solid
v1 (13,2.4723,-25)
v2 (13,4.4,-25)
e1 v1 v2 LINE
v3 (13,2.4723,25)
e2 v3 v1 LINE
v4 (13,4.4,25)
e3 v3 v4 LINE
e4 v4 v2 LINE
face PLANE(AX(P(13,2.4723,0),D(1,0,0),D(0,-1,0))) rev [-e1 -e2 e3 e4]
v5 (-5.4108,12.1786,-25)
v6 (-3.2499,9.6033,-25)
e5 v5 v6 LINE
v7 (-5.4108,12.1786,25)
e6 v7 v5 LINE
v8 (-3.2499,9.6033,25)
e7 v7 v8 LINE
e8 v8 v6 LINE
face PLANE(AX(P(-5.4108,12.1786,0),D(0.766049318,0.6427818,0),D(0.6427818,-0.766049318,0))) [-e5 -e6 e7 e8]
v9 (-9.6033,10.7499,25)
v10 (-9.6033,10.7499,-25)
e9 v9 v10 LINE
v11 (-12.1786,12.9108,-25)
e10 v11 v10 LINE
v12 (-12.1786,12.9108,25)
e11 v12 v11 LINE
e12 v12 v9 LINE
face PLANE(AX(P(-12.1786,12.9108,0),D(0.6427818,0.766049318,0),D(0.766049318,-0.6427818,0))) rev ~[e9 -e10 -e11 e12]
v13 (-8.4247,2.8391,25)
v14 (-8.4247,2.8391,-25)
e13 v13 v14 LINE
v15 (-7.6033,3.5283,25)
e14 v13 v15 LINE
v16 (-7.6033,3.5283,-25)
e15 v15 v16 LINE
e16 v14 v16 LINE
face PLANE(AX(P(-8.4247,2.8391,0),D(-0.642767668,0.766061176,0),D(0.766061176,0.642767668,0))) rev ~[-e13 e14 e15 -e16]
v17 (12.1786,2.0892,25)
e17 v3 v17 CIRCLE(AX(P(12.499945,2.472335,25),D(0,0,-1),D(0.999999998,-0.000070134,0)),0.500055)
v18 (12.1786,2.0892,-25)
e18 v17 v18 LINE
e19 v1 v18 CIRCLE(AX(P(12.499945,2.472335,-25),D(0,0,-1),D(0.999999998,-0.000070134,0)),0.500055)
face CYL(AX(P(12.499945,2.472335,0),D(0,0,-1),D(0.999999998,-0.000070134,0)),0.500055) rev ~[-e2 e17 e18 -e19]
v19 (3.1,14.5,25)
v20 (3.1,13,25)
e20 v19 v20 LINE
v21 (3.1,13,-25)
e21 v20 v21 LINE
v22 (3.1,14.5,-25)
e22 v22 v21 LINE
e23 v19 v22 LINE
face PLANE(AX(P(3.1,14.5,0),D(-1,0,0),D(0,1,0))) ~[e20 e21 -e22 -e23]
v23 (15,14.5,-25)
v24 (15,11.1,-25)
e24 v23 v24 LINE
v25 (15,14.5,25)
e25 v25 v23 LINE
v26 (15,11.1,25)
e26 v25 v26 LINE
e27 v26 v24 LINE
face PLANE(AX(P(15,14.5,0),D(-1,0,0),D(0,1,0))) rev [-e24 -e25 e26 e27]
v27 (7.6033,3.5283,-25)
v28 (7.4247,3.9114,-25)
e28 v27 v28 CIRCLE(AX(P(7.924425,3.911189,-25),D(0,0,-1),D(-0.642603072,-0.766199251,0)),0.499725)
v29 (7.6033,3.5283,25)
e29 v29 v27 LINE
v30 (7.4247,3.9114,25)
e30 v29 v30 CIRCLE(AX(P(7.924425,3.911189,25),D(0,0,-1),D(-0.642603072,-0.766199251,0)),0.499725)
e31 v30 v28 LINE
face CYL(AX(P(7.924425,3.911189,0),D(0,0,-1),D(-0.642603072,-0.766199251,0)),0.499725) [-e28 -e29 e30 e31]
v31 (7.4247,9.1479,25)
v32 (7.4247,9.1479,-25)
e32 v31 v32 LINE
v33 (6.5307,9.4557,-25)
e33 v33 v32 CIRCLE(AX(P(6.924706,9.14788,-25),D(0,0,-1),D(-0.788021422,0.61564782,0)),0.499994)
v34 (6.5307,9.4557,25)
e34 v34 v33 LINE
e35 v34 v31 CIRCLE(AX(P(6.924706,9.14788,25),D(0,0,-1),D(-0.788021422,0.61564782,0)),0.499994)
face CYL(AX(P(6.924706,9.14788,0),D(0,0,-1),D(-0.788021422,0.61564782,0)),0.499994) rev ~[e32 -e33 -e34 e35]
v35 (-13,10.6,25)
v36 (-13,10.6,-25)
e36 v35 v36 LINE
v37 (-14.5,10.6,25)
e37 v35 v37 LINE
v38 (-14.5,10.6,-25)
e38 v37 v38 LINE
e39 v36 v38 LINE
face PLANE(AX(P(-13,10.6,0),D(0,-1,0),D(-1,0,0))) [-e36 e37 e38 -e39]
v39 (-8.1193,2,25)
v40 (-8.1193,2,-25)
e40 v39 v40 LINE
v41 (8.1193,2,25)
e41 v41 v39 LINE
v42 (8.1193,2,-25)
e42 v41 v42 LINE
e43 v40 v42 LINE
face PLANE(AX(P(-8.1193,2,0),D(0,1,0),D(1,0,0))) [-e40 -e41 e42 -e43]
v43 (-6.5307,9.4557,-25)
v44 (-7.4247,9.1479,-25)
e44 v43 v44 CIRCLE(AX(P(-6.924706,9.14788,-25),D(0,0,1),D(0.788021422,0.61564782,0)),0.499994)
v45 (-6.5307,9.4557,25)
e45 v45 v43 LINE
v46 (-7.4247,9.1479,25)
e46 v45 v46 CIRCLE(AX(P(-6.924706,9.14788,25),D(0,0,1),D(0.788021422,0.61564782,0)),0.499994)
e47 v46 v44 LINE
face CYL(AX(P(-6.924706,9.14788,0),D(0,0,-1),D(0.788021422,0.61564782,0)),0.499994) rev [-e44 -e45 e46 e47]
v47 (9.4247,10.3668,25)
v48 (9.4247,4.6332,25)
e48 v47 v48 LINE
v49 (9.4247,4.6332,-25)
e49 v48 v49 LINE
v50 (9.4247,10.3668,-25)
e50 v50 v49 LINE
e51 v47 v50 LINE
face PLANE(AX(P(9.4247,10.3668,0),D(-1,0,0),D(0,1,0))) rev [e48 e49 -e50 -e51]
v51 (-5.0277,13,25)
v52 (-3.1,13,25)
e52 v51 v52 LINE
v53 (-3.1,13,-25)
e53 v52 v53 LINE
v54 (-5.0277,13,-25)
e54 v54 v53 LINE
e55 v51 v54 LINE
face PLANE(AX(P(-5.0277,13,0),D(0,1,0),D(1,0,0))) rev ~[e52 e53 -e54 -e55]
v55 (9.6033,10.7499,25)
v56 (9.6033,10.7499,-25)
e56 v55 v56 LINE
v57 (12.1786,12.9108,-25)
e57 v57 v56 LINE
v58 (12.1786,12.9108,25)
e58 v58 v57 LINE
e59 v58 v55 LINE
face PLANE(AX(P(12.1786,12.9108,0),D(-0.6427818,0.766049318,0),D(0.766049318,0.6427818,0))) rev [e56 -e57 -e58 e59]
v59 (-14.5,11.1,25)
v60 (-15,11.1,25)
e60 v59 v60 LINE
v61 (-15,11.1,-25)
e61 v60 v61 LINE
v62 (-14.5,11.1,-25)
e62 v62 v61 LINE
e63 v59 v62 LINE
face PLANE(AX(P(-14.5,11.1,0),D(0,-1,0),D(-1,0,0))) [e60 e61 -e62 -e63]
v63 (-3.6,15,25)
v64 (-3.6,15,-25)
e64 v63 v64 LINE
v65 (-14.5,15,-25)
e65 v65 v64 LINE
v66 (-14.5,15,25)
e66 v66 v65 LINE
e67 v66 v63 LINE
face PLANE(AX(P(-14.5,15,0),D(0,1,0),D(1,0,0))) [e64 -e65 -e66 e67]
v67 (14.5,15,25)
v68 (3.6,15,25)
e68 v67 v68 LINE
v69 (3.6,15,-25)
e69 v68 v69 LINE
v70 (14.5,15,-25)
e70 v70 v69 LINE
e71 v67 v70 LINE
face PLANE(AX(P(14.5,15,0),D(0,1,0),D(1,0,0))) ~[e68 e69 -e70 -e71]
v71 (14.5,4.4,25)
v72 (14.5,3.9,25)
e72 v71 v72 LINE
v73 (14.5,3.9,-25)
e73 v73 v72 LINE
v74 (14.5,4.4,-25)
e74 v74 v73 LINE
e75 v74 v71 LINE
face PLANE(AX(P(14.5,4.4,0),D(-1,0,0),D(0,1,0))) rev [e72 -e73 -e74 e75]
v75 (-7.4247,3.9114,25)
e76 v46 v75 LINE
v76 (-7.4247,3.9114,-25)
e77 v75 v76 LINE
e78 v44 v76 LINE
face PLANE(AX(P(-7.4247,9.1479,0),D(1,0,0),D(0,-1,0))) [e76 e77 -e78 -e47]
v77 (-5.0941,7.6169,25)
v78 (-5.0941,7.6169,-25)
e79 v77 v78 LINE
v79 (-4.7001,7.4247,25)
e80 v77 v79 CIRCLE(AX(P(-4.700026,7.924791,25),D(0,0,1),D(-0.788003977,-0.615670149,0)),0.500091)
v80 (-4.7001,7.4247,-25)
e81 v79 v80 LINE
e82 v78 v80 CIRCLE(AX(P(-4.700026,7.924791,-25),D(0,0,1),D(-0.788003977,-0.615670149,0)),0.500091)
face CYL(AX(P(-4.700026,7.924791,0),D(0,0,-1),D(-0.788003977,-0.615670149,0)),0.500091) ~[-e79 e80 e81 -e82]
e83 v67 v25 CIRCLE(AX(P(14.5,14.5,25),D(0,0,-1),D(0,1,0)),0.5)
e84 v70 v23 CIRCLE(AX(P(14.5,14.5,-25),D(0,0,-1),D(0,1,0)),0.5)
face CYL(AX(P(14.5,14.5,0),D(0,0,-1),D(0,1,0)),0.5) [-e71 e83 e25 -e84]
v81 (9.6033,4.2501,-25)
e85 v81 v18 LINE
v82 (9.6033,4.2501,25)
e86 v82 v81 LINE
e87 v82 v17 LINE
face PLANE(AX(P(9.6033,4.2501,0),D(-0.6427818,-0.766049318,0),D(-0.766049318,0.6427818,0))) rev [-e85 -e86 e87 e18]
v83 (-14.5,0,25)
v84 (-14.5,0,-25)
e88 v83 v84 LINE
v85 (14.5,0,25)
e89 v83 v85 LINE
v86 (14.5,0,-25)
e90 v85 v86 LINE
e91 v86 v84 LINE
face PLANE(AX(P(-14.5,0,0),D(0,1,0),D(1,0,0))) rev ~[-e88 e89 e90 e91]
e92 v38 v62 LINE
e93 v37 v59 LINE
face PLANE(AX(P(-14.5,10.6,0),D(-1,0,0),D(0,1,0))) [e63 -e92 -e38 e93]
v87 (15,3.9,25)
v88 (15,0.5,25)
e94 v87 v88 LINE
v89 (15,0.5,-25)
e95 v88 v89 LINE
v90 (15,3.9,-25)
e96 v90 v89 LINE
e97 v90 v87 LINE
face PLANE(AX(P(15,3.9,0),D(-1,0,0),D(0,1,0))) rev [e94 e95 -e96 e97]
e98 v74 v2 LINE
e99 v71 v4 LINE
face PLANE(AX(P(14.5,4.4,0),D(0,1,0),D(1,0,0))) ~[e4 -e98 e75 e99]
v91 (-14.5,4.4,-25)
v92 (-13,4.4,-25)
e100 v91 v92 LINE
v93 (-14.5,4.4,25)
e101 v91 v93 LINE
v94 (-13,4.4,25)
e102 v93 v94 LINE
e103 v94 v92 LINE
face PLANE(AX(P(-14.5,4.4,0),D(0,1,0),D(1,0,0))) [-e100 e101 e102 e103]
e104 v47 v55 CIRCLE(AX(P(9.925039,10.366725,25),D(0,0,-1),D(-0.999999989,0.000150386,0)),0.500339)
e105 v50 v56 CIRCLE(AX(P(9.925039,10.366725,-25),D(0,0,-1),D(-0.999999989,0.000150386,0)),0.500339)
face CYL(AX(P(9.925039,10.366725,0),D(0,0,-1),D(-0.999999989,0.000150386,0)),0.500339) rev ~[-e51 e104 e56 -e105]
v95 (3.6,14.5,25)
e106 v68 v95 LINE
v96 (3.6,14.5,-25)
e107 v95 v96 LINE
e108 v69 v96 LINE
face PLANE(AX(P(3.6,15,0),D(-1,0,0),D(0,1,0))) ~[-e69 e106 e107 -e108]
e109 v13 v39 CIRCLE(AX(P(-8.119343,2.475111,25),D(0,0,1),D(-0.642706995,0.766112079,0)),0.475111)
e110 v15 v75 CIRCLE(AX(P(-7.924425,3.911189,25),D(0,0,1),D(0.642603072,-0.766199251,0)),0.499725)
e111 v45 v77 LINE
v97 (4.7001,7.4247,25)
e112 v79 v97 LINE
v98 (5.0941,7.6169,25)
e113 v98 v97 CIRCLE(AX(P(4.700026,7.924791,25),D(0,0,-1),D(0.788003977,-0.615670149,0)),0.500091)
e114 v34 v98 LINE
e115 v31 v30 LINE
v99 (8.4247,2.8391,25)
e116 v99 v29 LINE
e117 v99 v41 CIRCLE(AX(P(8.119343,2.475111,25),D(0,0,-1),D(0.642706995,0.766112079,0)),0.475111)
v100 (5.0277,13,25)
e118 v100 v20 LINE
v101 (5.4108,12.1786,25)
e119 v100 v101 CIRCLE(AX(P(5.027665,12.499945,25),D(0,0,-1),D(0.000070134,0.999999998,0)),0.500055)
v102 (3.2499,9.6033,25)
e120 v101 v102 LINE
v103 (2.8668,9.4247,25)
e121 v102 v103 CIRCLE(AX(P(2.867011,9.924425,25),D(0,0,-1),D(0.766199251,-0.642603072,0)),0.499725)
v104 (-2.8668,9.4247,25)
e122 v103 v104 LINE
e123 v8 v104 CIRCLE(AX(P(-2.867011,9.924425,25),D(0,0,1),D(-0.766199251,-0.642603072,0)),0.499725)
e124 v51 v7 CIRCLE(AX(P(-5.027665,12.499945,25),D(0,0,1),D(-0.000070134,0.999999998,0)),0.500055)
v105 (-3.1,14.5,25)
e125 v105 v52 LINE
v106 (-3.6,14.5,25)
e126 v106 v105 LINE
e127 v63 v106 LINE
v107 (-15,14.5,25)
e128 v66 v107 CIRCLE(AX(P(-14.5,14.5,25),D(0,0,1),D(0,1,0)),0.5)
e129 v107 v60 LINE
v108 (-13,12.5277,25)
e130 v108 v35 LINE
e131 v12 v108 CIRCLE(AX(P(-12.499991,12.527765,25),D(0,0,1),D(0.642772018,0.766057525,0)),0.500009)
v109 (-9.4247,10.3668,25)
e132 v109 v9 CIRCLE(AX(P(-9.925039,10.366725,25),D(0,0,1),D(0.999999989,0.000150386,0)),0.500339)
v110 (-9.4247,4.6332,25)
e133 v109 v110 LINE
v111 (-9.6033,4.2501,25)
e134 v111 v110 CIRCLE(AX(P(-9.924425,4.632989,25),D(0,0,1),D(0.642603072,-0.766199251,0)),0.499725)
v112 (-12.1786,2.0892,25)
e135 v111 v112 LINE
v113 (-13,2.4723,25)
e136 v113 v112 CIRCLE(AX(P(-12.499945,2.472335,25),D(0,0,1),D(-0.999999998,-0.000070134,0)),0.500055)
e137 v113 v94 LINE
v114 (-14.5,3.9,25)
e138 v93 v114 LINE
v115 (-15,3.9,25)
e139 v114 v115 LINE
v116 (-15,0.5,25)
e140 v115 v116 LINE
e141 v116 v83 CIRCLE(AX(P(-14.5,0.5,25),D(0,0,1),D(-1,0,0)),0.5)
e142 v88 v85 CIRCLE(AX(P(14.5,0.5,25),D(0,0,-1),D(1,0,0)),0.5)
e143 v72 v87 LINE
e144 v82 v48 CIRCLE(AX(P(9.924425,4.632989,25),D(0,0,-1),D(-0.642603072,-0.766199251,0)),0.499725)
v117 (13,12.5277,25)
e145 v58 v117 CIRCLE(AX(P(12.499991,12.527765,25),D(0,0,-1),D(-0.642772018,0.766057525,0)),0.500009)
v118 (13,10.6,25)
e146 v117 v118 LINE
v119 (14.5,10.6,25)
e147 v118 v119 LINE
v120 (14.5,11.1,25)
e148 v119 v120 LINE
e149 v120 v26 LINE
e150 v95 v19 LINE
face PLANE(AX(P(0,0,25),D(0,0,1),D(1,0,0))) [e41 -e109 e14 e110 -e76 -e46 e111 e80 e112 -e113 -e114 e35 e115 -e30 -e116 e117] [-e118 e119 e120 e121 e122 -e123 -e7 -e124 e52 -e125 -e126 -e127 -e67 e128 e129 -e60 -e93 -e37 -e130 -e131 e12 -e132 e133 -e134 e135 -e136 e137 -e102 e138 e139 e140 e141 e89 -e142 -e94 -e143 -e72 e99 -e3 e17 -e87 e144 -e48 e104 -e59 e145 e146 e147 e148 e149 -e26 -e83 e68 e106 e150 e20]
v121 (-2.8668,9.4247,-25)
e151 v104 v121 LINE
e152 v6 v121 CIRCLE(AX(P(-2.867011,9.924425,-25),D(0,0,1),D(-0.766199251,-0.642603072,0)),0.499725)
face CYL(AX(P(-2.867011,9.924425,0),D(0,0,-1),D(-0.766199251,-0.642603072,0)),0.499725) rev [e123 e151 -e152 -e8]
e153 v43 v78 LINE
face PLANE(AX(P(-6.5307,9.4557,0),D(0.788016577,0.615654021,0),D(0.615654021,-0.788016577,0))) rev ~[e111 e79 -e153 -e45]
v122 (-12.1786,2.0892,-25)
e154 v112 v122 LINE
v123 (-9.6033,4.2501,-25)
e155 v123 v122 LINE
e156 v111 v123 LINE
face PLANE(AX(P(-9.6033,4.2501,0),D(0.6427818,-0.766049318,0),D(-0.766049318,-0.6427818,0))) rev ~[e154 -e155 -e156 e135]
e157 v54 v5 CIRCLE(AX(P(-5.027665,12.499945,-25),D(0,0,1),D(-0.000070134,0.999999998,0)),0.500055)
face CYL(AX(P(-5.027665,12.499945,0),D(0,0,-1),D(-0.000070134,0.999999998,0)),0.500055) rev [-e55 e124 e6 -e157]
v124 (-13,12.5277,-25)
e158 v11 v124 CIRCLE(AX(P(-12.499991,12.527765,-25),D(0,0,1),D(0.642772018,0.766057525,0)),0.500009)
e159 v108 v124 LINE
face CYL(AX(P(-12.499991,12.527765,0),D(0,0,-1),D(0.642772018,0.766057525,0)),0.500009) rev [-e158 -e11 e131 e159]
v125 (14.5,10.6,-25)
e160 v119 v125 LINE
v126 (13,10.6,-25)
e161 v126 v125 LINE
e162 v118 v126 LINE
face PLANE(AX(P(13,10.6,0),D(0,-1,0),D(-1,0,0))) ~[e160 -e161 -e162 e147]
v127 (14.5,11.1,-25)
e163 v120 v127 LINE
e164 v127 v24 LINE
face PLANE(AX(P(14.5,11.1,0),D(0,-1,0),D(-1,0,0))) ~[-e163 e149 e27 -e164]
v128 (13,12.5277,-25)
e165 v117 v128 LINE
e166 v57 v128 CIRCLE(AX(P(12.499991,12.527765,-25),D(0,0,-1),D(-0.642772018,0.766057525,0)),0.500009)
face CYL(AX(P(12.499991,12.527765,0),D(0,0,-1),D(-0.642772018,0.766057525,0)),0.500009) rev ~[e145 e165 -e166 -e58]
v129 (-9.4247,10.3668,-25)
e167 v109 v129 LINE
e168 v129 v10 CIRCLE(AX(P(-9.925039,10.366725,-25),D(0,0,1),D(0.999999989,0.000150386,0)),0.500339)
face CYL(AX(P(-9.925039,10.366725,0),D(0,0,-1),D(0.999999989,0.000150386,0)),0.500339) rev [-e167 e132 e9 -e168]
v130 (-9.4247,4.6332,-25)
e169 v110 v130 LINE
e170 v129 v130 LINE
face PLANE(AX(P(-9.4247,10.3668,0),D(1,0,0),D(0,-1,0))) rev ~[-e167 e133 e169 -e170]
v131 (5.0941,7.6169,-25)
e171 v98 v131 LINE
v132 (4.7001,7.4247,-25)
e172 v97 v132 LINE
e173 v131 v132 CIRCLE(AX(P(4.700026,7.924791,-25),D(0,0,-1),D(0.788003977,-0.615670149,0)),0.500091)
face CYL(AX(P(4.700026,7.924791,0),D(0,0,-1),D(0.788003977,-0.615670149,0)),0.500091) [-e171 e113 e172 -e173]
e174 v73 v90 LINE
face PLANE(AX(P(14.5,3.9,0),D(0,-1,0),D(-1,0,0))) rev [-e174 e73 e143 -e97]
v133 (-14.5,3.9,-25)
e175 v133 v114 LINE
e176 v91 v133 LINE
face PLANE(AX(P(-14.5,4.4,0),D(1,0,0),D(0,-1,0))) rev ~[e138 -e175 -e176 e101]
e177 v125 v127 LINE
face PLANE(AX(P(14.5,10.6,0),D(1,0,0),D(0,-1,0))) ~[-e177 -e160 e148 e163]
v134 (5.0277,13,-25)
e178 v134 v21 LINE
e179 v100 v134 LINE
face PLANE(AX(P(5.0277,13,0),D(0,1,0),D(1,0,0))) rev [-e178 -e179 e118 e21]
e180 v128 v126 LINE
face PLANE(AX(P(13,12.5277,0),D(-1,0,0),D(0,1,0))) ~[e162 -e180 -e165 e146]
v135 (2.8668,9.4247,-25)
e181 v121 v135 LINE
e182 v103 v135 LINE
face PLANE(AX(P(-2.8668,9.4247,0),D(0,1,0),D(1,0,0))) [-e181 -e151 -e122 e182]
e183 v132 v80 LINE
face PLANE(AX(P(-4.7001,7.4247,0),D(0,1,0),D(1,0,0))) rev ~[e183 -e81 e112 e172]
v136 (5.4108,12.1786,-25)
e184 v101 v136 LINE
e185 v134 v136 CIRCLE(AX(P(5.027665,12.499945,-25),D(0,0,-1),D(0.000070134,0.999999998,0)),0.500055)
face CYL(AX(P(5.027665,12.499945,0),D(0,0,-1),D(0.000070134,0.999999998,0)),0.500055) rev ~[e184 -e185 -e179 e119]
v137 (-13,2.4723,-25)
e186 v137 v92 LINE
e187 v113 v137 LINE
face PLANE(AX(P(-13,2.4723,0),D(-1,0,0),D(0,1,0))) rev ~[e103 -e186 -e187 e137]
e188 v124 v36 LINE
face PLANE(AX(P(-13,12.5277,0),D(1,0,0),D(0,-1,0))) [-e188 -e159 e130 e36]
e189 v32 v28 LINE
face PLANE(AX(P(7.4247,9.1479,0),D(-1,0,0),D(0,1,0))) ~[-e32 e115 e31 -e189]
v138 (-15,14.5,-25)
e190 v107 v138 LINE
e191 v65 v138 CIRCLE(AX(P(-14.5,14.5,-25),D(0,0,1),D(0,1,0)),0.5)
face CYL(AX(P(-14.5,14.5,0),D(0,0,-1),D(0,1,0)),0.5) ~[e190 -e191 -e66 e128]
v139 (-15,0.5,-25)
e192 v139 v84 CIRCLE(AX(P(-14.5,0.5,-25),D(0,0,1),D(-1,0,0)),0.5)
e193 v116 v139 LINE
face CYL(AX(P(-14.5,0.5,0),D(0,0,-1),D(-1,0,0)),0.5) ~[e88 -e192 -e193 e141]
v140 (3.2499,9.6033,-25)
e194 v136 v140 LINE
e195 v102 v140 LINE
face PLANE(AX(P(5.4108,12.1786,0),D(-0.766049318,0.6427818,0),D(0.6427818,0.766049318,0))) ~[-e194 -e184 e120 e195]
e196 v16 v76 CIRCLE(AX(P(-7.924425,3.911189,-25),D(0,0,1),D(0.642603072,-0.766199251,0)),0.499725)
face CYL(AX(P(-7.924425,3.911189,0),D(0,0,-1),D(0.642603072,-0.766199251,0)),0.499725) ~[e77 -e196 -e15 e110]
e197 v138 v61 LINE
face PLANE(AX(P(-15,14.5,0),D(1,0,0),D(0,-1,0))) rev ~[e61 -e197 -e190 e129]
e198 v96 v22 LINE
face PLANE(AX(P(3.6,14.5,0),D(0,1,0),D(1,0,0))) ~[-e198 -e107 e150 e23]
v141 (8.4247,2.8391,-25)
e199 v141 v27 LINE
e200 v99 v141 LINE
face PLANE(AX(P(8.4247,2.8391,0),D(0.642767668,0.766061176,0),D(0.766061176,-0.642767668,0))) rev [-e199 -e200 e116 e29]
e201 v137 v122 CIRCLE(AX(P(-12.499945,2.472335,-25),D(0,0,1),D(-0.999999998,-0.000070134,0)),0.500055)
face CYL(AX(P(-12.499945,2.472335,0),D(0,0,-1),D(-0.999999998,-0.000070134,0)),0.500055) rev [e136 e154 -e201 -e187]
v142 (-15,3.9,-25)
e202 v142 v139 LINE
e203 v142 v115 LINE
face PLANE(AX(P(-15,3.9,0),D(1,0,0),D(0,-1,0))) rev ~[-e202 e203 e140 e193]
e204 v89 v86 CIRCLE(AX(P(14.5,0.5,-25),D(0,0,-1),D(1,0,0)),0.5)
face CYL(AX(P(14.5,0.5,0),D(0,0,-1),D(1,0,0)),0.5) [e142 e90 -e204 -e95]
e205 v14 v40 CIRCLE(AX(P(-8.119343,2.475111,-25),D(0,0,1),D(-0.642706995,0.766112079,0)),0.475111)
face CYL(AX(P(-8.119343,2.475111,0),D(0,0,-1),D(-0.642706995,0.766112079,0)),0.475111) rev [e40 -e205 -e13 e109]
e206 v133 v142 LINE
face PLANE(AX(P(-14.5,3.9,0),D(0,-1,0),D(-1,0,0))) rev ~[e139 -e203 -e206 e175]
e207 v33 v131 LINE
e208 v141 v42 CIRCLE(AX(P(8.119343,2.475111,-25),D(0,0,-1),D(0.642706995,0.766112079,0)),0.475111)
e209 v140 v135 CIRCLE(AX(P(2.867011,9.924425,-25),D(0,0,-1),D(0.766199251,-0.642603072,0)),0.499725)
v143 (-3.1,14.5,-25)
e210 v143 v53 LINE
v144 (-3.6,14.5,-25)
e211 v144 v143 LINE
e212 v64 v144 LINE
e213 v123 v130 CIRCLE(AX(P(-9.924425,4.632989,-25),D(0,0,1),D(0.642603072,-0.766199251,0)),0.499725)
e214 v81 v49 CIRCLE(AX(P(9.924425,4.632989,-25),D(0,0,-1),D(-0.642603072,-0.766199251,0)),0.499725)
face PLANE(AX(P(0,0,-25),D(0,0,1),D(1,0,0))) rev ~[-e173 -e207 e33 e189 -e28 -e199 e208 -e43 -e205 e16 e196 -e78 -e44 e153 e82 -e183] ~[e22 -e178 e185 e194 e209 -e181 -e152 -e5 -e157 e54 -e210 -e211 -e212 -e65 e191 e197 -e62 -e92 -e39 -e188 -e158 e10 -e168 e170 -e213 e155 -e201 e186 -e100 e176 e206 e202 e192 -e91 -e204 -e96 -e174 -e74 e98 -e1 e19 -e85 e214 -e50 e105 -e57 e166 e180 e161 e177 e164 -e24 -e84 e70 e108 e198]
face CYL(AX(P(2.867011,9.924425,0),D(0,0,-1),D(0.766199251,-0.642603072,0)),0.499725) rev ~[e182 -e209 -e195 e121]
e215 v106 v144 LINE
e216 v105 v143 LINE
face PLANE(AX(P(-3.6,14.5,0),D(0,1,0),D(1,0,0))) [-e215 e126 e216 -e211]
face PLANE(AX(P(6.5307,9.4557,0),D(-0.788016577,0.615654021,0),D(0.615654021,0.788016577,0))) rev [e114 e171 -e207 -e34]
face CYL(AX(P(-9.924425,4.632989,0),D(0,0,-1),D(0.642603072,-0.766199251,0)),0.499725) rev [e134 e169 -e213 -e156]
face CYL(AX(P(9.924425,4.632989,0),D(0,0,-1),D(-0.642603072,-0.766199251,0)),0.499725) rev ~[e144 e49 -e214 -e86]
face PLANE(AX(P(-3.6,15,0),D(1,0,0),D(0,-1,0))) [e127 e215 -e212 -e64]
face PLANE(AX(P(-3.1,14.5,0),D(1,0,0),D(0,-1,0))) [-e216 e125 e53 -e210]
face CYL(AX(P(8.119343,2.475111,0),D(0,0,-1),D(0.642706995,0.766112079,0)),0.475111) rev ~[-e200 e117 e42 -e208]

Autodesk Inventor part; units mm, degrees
ref_plane "YZ Plane" through (0, 0, 0) normal (1, 0, 0) x (0, 1, 0)
ref_plane "XZ Plane" through (0, 0, 0) normal (0, 1, 0) x (-1, 0, 0)
ref_plane "XY Plane" through (0, 0, 0) normal (0, 0, 1) x (1, 0, 0)
sketch "Esboço1" plane through (0, 0, 0) normal (0, 0, 1) x (1, 0, 0)
  line L0 (-15, 15) -> (15, 15) construction
  line L1 (-15, 15) -> (-15, 10.6) construction
  line L2 (-15, 10.6) -> (-13, 10.6) construction
  line L3 (-13, 13.6) -> (-13, 10.6) construction
  line L4 (-13, 13.6) -> (-9.4247, 10.6) construction
  line L5 (-9.4247, 10.6) -> (-9.4247, 4.4) construction
  line L6 (-9.4247, 4.4) -> (-13, 1.4) construction
  line L7 (-13, 4.4) -> (-13, 1.4) construction
  line L8 (-15, 4.4) -> (-13, 4.4) construction
  line L9 (-15, 4.4) -> (-15, 0) construction
  line L10 (-15, 0) -> (0, 0) construction
  line L11 (-15, 4.4) -> (-14.5, 4.4) construction
  line L12 (-14.5, 4.4) -> (-14.5, 3.9)
  line L13 (-14.5, 3.9) -> (-15, 3.9)
  line L14 (-15, 3.9) -> (-15, 4.4) construction
  line L15 (-15, 10.6) -> (-14.5, 10.6) construction
  line L16 (-14.5, 10.6) -> (-14.5, 11.1)
  line L17 (-14.5, 11.1) -> (-15, 11.1)
  line L18 (-15, 11.1) -> (-15, 10.6) construction
  line L19 (-3.1, 9.4247) -> (3.1, 9.4247) construction
  line L20 (-6.1, 13) -> (-3.1, 9.4247) construction
  line L21 (-6.1, 13) -> (-3.1, 13) construction
  line L22 (-3.1, 15) -> (-3.1, 13) construction
  line L23 (-3.1, 9.4247) -> (0, 9.4247) construction
  line L24 (-3.1, 15) -> (-3.6, 15) construction
  line L25 (-3.6, 15) -> (-3.6, 14.5)
  line L26 (-3.6, 14.5) -> (-3.1, 14.5)
  line L27 (-3.1, 14.5) -> (-3.1, 15) construction
  line L28 (-9.4247, 2) -> (0, 2) construction
  line L29 (-7.4247, 3.6782) -> (-9.4247, 2) construction
  line L30 (-7.4247, 10.6) -> (-7.4247, 3.6782) construction
  line L31 (-7.4247, 10.6) -> (-4.944, 7.4247) construction
  line L32 (-4.944, 7.4247) -> (0, 7.4247) construction
  arc A0 (-14.5, 15) -> (-15, 14.5) centre (-14.5, 14.5) ccw
  arc A1 (-12.1786, 12.9108) -> (-13, 12.5277) centre (-12.5, 12.5277) ccw
  line L33 (-13, 12.5277) -> (-13, 10.6)
  line L34 (-13, 10.6) -> (-14.5, 10.6)
  arc A2 (-9.4247, 10.3668) -> (-9.6033, 10.7499) centre (-9.9247, 10.3668) ccw
  arc A3 (-9.6033, 4.2501) -> (-9.4247, 4.6332) centre (-9.9247, 4.6332) ccw
  arc A4 (-13, 2.4723) -> (-12.1786, 2.0892) centre (-12.5, 2.4723) ccw
  line L35 (-9.6033, 4.2501) -> (-12.1786, 2.0892)
  line L36 (-13, 2.4723) -> (-13, 4.4)
  arc A5 (-15, 0.5) -> (-14.5, 0) centre (-14.5, 0.5) ccw
  line L37 (-15, 14.5) -> (-15, 11.1)
  line L38 (-15, 3.9) -> (-15, 0.5)
  arc A6 (-8.4247, 2.8391) -> (-8.1193, 2) centre (-8.1193, 2.4751) ccw
  arc A7 (-6.5307, 9.4557) -> (-7.4247, 9.1479) centre (-6.9247, 9.1479) ccw
  line L39 (-8.1193, 2) -> (0, 2)
  arc A8 (-7.6033, 3.5283) -> (-7.4247, 3.9114) centre (-7.9247, 3.9114) ccw
  arc A9 (-5.0941, 7.6169) -> (-4.7001, 7.4247) centre (-4.7001, 7.9247) ccw
  arc A10 (-3.2499, 9.6033) -> (-2.8668, 9.4247) centre (-2.8668, 9.9247) ccw
  arc A11 (-5.0277, 13) -> (-5.4108, 12.1786) centre (-5.0277, 12.5) ccw
  line L40 (-5.0277, 13) -> (-3.1, 13)
  line L41 (-2.8668, 9.4247) -> (0, 9.4247)
  line L42 (-4.7001, 7.4247) -> (0, 7.4247)
  line L43 (-6.5307, 9.4557) -> (-5.0941, 7.6169)
  line L44 (-7.4247, 9.1479) -> (-7.4247, 3.9114)
  line L45 (0, 2) -> (0, 0)
  line L46 (0, 7.4247) -> (0, 9.4247)
  line L47 (-3.1, 14.5) -> (-3.1, 13)
  line L48 (-14.5, 4.4) -> (-13, 4.4)
  line L49 (-8.4247, 2.8391) -> (-7.6033, 3.5283)
  line L50 (-14.5, 15) -> (-3.6, 15)
  line L51 (-12.1786, 12.9108) -> (-9.6033, 10.7499)
  line L52 (-9.4247, 10.3668) -> (-9.4247, 4.6332)
  line L53 (-14.5, 0) -> (0, 0)
  line L54 (-5.4108, 12.1786) -> (-3.2499, 9.6033)
  point P0 (0, 15)
  point P1 (-14, 4.4)
  point P2 (-1.55, 9.4247)
  point P3 (-7.25, 0)
  dimension "d0" = 30
  dimension "d1" = 15
  dimension "d6" = 2
  dimension "d7" = 3
  dimension "d9" = 50
  dimension "d12" = 0.5
  dimension "d18" = 50
  dimension "d19" = 2
  dimension "d21" = 2
  dimension "d22" = 2
  dimension "d24" = 2
  dimension "d25" = 0.5
  dimension "d26" = 0.5
  dimension "d27" = 0.5
  dimension "d28" = 0.5
  dimension "d29" = 0.5
  dimension "d30" = 0.5
  dimension "d31" = 0.5
  dimension "d32" = 0.5
  dimension "d33" = 0.5
  dimension "d34" = 0.5
  dimension "d35" = 0.5
  dimension "d38" = 3.1
  dimension "d39" = 6.2
  dimension "d40" = 15
extrude "Extrusão1" add sketch "Esboço1" along normal mid plane 50
mirror "Espelhar1" about plane through (0, 0, 0) normal (1, 0, 0) of "Extrusão1"
equation "\"d6\" = d21"
equation "\"d18\" = d9"
equation "\"d19\" = d21"
equation "\"d22\" = d20"
equation "\"d24\" = d21"
equation "\"d25\" = d35"
equation "\"d26\" = d35"
equation "\"d27\" = d35"
equation "\"d28\" = d35"
equation "\"d29\" = d35"
equation "\"d30\" = d35"
equation "\"d31\" = d35"
equation "\"d32\" = d35"
equation "\"d33\" = d35"
equation "\"d34\" = d35"
equation "\"d39\" = 2 * d38"
equation "\"d20\" = 2deg"
properties part number "perfil_15x30_001" material "Alumínio 6061"
